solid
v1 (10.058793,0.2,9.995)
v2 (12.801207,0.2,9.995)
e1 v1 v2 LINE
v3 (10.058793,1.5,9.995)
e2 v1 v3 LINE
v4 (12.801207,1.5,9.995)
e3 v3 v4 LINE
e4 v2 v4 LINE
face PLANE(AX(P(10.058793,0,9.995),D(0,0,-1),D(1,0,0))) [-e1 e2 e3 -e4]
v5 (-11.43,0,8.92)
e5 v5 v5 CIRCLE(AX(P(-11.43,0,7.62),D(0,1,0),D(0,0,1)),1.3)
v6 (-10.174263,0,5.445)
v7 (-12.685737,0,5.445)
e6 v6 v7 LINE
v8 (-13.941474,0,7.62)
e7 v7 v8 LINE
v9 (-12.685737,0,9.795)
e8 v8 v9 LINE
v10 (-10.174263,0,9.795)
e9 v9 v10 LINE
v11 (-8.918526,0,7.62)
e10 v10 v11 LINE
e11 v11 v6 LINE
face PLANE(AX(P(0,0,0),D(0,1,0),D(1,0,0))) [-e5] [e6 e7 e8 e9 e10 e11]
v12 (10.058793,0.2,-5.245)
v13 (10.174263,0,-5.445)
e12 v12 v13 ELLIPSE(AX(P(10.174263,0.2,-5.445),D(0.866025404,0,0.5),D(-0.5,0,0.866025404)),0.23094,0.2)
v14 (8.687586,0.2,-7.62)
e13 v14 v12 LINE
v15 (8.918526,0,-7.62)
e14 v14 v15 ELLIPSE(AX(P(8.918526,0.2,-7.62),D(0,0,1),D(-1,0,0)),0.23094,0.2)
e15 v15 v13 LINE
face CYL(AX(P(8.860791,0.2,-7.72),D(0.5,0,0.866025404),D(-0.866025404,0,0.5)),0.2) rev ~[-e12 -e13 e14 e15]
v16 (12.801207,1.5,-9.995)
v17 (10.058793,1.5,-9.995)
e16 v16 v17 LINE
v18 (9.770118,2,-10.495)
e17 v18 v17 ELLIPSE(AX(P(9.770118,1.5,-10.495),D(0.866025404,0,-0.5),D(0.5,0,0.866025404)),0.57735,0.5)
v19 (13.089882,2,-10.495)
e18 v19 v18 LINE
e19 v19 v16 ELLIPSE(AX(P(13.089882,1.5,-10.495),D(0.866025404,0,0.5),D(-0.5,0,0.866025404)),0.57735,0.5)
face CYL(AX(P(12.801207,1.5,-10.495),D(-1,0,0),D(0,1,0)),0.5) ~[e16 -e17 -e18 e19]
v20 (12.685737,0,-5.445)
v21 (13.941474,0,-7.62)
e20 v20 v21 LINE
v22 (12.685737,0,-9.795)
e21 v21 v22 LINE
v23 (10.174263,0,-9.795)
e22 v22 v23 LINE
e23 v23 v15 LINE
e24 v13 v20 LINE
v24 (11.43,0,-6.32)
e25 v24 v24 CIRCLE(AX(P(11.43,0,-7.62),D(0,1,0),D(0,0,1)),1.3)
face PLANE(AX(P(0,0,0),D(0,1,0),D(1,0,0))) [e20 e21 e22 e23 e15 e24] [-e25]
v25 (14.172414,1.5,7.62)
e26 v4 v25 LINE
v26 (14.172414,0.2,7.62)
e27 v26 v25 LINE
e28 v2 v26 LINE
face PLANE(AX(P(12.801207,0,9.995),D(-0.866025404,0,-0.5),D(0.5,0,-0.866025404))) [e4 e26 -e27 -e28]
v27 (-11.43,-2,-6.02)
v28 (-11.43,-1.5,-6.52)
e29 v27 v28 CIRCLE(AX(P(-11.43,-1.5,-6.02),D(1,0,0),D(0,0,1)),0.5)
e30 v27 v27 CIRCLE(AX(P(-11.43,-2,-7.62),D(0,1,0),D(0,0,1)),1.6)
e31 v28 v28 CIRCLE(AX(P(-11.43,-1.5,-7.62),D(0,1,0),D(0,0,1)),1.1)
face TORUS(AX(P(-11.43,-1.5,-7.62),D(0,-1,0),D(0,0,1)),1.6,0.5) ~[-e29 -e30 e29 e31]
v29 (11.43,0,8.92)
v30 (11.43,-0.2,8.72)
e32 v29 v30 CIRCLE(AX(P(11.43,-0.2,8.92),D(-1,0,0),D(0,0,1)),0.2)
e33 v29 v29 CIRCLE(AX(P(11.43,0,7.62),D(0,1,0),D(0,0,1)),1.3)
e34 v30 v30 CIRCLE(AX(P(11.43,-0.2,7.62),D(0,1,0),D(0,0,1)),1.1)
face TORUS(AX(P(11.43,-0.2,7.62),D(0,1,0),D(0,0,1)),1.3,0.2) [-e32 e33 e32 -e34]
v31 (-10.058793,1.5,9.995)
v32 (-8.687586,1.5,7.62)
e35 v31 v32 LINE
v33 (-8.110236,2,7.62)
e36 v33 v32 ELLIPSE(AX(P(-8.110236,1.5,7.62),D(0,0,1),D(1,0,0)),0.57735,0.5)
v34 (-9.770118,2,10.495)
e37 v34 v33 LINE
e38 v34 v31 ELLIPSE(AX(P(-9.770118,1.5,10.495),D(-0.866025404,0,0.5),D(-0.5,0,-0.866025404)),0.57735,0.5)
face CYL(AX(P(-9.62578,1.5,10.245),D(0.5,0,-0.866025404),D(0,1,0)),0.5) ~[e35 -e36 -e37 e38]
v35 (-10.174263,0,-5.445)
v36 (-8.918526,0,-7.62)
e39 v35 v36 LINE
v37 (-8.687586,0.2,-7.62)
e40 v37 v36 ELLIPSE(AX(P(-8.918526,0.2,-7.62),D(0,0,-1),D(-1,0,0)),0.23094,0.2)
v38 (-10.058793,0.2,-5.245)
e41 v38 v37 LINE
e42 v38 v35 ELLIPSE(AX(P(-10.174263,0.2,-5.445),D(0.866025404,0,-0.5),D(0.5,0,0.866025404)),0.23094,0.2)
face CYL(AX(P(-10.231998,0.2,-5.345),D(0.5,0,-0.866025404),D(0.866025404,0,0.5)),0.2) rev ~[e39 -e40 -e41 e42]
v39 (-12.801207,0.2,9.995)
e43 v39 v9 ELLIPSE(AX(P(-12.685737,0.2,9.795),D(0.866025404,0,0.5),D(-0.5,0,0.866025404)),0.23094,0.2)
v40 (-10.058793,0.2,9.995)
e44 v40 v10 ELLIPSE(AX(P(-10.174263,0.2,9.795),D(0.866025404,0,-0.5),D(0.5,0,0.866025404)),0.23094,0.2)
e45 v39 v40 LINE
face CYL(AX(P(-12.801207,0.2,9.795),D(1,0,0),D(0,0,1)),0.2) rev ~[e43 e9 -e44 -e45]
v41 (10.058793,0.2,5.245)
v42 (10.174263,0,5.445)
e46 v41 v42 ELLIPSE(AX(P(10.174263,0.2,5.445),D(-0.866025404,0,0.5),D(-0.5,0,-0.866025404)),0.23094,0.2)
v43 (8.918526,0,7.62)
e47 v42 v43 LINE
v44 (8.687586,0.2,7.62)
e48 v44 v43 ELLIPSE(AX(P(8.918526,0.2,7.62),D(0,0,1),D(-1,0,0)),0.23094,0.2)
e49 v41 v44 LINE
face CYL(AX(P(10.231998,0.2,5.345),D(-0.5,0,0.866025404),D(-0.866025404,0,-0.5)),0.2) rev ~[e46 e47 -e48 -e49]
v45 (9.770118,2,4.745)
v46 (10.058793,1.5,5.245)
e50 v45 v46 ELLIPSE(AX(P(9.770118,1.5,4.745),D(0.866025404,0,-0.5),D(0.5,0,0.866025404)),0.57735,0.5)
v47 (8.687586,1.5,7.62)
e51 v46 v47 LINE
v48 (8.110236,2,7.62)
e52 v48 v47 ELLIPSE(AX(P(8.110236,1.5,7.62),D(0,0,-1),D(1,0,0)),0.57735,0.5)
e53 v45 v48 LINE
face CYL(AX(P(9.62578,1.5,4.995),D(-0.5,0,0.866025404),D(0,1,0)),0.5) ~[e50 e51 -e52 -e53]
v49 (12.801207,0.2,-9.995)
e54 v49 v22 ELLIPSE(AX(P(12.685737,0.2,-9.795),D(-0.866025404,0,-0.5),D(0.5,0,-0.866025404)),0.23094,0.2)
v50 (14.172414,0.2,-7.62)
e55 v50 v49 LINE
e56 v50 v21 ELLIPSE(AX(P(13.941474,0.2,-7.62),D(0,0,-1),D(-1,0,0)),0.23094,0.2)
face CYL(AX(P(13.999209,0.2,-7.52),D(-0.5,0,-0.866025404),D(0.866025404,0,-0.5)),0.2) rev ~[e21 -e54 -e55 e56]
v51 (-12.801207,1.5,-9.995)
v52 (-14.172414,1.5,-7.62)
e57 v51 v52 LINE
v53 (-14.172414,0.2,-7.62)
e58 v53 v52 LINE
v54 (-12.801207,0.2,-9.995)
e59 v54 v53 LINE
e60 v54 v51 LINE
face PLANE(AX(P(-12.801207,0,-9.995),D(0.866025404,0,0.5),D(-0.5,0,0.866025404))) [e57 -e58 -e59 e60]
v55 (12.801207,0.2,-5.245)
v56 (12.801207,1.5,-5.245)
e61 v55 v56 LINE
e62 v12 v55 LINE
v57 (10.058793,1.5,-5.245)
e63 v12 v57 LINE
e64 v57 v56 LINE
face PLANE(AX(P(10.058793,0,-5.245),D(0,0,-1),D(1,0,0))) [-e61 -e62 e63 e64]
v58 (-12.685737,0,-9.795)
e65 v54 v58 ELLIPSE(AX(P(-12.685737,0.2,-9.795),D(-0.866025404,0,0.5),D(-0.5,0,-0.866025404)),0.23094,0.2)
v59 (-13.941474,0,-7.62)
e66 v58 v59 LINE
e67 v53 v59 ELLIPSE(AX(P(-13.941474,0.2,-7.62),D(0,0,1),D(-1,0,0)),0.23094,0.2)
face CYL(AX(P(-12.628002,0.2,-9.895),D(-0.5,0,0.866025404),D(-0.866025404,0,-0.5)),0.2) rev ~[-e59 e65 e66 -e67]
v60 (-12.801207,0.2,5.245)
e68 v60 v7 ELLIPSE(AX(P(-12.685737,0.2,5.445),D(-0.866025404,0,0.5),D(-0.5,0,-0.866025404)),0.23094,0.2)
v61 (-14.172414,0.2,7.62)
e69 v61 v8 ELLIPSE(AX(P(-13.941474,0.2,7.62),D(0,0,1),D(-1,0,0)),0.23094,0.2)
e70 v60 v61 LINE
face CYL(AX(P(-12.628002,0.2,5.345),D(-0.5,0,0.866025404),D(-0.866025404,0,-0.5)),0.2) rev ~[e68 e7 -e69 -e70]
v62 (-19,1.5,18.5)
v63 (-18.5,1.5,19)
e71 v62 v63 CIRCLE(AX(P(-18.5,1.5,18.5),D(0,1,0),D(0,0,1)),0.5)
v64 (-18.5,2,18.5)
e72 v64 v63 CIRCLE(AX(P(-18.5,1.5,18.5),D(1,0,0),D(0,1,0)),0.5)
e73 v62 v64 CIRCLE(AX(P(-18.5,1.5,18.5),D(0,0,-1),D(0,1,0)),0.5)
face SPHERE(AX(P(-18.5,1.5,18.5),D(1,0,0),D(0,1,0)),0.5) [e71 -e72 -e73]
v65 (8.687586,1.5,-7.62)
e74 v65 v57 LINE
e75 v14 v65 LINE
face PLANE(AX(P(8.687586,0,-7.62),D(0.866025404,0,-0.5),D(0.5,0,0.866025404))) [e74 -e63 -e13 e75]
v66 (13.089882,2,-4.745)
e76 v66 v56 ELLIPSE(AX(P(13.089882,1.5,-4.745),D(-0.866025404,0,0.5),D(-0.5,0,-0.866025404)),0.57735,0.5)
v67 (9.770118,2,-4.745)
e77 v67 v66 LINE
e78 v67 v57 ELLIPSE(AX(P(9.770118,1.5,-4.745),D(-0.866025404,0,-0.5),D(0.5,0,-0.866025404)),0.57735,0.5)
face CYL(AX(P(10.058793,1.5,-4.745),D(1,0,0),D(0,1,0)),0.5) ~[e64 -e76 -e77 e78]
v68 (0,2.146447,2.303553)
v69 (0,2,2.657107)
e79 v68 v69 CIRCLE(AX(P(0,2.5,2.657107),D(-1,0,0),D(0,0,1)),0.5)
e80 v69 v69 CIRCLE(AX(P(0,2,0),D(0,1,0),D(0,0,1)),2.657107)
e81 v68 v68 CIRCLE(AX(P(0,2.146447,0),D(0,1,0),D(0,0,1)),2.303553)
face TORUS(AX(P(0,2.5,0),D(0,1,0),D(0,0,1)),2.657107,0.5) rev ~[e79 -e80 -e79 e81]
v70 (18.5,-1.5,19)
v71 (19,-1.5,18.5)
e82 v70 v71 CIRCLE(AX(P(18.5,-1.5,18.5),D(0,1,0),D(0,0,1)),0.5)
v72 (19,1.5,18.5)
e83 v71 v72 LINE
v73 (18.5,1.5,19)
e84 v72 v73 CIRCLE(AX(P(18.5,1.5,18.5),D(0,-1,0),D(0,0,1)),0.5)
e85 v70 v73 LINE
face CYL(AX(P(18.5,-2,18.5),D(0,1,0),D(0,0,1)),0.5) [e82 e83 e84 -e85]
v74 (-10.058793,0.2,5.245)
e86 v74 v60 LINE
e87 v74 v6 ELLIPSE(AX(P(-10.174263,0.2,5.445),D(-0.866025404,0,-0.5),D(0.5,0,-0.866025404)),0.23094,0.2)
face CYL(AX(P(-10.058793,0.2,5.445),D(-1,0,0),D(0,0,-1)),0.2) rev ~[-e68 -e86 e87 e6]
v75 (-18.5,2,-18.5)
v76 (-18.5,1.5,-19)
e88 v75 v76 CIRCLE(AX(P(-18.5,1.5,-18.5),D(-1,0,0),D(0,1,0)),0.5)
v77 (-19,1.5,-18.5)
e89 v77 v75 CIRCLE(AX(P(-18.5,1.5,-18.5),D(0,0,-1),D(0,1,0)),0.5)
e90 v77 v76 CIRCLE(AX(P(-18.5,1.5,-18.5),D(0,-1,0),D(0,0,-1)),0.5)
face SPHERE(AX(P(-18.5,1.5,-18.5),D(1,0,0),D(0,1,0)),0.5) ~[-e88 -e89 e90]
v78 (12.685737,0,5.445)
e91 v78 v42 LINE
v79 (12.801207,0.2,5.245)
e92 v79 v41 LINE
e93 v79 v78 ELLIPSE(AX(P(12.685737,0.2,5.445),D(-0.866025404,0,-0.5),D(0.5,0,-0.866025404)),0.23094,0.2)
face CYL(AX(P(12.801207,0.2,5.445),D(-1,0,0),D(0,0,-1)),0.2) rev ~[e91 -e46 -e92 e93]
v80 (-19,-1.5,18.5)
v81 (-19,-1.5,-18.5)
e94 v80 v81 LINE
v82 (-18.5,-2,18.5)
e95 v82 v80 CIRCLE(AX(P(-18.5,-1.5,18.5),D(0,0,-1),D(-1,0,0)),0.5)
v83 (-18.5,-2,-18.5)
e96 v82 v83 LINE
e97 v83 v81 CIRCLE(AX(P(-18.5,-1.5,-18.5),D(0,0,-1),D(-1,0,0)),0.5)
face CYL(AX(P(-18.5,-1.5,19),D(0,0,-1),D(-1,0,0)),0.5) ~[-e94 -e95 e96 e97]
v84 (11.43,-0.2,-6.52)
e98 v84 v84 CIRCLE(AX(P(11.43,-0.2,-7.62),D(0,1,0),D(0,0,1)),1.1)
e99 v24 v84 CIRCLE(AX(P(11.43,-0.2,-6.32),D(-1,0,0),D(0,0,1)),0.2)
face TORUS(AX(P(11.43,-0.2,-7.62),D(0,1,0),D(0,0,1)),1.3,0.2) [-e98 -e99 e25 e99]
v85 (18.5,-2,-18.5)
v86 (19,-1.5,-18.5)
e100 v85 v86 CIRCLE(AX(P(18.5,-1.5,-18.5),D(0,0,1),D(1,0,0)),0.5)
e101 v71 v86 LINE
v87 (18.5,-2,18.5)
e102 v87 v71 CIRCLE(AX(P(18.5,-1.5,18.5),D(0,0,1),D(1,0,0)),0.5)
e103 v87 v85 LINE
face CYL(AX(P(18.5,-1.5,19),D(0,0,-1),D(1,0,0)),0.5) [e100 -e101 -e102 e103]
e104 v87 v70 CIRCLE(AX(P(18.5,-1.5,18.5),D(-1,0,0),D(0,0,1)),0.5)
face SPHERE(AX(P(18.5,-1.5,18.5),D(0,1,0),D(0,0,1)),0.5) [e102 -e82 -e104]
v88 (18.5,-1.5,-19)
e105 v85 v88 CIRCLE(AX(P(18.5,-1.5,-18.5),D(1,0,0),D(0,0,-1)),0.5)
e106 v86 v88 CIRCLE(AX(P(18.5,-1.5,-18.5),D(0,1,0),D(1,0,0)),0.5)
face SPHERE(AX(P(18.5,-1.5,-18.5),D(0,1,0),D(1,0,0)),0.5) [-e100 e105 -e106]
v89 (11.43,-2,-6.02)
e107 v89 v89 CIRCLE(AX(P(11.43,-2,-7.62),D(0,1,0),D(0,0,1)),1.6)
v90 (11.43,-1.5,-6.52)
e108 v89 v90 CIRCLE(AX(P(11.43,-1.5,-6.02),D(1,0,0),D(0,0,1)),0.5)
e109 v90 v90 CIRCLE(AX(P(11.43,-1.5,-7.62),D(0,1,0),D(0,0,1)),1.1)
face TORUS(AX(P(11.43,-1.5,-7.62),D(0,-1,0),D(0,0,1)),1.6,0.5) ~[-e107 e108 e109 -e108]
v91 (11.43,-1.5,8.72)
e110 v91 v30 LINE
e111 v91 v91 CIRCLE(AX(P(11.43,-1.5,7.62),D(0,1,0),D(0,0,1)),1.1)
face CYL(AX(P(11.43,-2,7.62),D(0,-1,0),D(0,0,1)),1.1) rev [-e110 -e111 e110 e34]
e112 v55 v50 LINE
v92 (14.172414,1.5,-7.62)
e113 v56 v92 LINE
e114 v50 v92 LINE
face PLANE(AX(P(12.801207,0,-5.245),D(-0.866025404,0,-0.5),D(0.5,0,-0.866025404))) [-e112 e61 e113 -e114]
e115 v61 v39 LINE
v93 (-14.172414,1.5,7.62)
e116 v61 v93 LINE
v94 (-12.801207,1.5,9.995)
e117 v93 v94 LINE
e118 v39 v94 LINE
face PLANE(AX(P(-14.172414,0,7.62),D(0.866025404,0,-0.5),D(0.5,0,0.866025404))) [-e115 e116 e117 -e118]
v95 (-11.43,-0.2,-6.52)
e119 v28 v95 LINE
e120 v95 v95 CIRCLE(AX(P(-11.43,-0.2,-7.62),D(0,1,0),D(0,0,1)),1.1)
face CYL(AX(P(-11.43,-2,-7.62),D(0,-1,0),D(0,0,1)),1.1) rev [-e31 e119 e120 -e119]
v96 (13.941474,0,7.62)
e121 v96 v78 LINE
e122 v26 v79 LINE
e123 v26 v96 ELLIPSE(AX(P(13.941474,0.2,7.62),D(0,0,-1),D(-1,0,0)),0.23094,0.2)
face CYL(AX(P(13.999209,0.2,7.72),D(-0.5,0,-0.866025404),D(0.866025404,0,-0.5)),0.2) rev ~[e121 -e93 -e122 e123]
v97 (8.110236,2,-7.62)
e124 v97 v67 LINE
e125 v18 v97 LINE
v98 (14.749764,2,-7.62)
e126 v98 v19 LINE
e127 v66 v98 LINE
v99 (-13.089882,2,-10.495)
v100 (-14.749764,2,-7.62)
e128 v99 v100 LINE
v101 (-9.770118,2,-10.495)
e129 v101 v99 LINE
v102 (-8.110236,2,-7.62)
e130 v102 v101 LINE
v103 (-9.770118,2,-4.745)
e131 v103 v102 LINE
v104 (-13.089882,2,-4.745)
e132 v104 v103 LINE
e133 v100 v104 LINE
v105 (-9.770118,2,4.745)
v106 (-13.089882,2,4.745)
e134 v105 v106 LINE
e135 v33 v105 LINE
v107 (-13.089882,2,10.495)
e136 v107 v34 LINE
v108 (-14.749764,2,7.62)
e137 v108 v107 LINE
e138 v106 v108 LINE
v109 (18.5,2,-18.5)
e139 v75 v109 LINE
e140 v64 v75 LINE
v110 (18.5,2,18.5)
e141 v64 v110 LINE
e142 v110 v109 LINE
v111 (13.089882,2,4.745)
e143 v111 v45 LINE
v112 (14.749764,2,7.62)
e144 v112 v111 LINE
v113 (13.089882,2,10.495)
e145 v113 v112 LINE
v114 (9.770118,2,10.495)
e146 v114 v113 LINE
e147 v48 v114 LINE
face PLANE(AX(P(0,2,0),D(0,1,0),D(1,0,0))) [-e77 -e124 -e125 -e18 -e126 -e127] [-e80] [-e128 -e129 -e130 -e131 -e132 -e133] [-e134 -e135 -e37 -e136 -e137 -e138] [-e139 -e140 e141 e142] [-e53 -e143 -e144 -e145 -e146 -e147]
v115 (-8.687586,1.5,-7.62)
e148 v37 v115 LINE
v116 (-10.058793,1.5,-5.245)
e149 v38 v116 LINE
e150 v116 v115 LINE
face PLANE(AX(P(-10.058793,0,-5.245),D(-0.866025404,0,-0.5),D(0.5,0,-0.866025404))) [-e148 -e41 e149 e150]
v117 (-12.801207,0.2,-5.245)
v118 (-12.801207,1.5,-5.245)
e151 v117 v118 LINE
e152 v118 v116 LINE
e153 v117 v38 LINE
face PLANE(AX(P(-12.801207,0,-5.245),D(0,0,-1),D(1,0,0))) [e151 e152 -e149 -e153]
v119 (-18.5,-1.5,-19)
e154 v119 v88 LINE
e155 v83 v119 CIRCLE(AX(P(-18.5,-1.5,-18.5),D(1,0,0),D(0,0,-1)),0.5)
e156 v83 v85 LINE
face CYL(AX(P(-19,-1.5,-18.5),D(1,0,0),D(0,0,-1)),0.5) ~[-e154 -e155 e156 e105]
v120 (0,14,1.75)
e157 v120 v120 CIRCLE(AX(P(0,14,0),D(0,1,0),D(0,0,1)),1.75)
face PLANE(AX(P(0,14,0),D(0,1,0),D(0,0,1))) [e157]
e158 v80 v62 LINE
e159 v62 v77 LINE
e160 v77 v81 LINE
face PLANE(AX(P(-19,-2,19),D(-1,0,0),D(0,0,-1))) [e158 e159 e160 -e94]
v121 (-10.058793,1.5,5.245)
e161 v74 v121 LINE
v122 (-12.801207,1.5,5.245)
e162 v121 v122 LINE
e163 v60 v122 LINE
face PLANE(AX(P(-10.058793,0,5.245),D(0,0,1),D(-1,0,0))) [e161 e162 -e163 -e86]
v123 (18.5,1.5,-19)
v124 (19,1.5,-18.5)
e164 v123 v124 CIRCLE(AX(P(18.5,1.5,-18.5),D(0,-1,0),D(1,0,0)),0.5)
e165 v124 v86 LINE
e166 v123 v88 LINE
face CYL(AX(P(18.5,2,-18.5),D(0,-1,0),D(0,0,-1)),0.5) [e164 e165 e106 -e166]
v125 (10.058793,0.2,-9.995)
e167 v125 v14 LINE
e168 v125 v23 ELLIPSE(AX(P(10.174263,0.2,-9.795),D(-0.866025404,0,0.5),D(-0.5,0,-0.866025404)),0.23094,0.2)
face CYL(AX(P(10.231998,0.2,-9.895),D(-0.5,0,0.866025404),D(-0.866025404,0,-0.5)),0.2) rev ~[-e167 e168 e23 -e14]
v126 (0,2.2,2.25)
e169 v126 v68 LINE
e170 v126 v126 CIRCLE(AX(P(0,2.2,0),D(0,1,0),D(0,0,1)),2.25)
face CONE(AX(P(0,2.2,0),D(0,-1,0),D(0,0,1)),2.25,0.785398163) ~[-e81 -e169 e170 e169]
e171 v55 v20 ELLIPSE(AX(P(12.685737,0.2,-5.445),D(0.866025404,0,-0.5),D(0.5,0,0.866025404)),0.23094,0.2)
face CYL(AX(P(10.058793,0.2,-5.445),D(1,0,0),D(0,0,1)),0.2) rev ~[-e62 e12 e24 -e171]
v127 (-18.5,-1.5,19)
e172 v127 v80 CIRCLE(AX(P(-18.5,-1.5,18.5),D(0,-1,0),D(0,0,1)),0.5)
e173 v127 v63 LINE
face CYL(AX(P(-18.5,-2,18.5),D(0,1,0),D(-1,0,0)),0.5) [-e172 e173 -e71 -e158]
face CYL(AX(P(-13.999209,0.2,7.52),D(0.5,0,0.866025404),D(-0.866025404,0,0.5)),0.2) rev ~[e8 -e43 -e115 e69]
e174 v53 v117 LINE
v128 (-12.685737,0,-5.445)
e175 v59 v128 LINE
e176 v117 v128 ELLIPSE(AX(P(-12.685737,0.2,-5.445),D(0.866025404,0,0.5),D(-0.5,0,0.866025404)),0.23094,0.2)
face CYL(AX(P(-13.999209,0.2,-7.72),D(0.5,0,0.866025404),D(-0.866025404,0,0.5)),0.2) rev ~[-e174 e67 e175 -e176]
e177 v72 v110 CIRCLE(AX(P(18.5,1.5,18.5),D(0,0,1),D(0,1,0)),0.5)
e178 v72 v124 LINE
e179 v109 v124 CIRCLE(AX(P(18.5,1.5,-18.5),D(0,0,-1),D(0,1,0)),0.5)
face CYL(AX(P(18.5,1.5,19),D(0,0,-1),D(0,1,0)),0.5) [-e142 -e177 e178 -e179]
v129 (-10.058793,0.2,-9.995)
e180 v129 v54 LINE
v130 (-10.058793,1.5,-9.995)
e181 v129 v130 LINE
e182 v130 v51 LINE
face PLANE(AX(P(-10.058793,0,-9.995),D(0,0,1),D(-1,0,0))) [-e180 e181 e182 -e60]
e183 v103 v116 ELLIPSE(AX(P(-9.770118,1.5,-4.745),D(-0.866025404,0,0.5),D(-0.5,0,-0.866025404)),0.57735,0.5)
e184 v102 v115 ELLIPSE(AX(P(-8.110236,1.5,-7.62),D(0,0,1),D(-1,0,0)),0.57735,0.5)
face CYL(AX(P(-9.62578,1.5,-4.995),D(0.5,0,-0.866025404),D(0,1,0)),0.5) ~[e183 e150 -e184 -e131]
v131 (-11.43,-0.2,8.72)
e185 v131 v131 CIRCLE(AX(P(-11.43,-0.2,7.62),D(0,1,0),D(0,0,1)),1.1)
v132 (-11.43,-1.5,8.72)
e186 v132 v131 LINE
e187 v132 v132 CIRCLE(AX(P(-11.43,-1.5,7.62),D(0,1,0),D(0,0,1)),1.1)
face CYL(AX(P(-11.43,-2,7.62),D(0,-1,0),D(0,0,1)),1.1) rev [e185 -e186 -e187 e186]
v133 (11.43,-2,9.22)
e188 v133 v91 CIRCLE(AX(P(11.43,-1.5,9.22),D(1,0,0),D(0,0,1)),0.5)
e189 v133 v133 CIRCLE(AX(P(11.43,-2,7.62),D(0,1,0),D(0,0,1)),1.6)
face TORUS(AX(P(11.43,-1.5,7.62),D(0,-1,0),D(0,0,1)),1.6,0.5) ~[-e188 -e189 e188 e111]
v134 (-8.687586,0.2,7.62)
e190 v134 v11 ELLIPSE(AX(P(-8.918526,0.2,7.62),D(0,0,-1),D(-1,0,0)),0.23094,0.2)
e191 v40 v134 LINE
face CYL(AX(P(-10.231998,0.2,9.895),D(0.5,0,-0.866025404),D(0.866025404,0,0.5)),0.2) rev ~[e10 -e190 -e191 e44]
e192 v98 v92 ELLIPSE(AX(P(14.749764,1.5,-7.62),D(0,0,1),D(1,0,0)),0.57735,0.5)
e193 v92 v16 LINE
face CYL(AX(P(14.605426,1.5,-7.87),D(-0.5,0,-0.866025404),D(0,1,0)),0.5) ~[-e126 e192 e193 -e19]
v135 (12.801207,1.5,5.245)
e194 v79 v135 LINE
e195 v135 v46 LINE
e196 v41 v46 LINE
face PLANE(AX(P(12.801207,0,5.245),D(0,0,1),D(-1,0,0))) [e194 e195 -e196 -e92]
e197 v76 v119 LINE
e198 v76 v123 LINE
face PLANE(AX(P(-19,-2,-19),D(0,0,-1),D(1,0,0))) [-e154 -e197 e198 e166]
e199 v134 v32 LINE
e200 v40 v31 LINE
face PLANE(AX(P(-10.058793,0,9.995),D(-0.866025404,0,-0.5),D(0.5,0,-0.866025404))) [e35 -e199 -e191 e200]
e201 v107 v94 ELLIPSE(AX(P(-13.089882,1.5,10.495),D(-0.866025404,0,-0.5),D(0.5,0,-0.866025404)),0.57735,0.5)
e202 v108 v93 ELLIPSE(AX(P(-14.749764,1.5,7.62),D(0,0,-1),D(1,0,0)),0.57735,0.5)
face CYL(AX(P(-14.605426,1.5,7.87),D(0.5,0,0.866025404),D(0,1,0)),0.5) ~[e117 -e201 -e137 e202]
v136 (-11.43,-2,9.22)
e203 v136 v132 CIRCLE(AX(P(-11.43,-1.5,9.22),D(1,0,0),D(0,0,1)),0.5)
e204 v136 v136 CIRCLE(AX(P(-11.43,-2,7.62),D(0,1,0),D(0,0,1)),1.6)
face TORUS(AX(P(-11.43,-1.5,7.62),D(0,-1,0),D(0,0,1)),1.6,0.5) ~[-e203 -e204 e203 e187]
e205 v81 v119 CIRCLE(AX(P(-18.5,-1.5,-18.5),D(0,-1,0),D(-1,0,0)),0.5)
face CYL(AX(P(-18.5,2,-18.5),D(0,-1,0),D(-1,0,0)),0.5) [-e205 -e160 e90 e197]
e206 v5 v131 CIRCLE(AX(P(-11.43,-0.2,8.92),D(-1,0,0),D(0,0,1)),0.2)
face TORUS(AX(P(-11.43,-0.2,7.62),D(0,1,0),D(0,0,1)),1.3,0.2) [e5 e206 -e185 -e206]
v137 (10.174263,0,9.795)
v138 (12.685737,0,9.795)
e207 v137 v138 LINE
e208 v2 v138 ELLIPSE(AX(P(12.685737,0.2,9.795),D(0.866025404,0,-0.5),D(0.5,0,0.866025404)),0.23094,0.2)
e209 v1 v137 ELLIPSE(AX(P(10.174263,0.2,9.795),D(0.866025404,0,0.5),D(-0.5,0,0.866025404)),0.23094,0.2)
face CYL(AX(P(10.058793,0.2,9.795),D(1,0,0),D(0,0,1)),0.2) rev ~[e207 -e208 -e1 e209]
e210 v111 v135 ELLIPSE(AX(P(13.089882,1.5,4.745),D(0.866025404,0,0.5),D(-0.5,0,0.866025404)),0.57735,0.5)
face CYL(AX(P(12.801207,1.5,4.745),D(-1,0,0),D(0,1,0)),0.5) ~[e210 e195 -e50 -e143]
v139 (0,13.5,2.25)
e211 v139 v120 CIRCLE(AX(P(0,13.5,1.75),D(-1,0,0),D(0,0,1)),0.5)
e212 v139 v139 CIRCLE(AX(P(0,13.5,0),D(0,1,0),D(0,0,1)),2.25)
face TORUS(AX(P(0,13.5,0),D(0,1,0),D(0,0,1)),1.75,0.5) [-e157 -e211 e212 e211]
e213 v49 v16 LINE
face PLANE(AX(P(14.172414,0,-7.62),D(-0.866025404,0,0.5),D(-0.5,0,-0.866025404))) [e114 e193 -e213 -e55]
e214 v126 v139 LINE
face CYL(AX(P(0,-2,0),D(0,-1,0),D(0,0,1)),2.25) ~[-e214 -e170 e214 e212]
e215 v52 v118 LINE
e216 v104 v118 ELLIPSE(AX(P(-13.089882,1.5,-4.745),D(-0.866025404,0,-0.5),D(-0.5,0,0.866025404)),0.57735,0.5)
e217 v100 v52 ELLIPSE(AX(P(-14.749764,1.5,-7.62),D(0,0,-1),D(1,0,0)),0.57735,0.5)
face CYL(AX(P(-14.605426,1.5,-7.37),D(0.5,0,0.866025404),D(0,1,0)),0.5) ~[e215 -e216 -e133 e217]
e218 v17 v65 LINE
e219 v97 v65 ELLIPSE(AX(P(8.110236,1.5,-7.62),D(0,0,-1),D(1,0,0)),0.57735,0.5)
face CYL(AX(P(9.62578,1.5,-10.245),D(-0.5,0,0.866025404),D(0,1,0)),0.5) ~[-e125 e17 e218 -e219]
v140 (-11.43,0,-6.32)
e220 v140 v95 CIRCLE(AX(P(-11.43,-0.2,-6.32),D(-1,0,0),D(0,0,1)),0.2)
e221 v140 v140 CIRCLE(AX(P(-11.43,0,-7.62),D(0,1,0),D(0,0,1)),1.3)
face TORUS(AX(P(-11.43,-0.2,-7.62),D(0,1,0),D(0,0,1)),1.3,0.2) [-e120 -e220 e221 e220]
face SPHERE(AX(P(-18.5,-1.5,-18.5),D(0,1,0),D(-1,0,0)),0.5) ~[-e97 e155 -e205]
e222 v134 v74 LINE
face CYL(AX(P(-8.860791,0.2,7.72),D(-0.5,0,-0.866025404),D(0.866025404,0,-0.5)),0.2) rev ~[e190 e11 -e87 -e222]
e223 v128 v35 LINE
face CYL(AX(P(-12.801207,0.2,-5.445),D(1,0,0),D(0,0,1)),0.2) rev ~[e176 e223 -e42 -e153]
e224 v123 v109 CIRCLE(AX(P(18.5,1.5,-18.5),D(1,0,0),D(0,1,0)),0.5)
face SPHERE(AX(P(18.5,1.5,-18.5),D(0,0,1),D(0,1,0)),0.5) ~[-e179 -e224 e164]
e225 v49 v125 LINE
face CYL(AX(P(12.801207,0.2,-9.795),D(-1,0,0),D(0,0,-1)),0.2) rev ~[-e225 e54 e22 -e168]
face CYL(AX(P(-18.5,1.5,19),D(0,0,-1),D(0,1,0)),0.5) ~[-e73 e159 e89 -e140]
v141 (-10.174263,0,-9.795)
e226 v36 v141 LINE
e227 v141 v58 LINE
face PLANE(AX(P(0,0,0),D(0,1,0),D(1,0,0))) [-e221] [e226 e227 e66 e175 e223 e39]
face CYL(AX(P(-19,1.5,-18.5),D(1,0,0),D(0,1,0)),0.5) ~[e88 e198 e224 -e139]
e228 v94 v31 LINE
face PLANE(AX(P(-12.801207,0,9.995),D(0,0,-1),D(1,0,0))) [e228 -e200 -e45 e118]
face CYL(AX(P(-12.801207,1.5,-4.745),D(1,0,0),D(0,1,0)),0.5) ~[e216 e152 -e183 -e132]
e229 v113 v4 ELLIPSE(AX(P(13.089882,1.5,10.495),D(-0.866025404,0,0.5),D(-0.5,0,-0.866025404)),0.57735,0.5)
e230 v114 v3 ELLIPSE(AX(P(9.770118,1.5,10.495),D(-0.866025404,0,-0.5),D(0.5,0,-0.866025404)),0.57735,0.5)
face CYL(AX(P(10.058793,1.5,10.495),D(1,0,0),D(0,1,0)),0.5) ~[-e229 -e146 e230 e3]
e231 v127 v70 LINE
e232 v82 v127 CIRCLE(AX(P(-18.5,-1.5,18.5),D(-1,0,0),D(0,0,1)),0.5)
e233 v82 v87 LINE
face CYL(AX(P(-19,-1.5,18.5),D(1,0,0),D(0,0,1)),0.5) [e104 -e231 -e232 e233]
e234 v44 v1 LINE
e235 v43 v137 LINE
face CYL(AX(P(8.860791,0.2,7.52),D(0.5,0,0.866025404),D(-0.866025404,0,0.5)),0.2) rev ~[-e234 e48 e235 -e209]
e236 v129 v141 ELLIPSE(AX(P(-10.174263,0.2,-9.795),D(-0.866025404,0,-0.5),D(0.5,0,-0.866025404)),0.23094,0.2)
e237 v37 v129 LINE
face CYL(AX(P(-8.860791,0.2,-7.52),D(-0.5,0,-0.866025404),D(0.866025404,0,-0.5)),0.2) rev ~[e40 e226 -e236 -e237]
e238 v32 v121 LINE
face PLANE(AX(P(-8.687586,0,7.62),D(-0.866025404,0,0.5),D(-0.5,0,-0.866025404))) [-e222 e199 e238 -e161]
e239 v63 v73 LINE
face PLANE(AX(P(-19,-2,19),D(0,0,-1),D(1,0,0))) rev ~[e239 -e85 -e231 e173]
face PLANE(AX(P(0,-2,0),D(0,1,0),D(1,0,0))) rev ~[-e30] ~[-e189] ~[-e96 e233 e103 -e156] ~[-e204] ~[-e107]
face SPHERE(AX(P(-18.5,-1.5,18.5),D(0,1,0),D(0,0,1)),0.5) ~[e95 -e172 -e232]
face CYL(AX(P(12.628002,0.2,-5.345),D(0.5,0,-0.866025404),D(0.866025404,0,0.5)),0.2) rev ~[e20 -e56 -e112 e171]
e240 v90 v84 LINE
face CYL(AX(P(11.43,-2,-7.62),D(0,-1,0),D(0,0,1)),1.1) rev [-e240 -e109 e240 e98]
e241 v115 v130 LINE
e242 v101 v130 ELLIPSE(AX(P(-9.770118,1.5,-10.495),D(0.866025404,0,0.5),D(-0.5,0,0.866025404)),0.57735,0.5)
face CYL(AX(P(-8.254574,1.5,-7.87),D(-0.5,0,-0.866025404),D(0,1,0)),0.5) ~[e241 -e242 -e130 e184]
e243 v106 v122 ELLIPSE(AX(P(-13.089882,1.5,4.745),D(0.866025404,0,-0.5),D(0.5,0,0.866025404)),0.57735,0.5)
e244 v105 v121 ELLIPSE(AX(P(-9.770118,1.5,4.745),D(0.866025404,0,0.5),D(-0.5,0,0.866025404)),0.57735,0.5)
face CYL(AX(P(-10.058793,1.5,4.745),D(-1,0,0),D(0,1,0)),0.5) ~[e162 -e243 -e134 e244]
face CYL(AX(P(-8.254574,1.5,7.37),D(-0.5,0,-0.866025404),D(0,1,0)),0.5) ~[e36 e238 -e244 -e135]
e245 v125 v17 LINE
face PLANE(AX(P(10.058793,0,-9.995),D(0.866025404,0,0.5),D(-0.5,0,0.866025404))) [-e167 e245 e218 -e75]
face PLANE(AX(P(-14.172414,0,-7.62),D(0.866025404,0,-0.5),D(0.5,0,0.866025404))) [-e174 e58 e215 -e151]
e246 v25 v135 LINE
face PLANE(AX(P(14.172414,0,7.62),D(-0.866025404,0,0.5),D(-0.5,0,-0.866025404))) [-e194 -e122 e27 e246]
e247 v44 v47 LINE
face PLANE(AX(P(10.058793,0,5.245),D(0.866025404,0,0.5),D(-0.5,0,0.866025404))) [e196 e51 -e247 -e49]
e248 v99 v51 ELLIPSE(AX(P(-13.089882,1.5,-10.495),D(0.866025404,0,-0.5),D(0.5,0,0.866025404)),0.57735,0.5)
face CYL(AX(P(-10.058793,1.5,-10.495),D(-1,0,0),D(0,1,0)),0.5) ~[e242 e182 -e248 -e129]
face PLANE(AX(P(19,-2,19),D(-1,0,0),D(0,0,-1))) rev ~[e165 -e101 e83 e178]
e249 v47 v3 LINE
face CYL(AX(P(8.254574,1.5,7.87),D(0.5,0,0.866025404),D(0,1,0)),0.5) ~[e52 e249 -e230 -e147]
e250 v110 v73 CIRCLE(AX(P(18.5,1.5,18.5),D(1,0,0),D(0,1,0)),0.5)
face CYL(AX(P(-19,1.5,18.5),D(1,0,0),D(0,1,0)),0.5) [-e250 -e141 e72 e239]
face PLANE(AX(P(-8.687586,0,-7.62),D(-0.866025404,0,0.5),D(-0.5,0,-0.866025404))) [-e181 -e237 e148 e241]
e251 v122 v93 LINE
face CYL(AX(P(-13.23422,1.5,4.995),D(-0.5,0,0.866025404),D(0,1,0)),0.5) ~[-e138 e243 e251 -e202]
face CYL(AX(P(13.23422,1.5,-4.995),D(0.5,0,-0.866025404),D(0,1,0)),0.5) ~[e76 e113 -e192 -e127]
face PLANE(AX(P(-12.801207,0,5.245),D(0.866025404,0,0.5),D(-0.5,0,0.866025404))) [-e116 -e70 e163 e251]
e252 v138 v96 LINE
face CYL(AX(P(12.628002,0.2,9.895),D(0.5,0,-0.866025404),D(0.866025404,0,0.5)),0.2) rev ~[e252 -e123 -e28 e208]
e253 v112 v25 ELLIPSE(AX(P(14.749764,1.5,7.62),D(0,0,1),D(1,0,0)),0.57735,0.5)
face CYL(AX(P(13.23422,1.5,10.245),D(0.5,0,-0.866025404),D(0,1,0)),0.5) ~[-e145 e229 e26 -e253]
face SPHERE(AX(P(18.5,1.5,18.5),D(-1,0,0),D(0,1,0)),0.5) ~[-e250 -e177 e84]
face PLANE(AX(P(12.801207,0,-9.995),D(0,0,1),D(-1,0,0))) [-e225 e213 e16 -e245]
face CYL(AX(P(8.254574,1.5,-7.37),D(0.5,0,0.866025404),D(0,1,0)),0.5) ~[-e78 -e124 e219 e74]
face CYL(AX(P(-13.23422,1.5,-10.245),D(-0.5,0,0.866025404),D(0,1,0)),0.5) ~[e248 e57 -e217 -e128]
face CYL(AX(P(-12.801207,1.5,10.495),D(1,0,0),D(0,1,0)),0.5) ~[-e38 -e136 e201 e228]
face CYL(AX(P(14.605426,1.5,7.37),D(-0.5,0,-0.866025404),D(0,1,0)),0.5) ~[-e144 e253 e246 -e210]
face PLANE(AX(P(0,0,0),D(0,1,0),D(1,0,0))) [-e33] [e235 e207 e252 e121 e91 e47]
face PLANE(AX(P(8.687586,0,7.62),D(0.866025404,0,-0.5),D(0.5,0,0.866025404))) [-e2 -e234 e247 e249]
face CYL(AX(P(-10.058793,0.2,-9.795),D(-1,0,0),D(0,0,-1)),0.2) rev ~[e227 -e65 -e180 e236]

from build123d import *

# Parameters (mm, degrees)
SKETCH2_W                = 38
SKETCH2_H                = 38
SKETCH2_R                = 2.25
BOSS_EXTRUDE1_DEPTH      = 2
BOSS_EXTRUDE2_START      = -2
SKETCH2_3_W              = 38
SKETCH2_3_H              = 38
SKETCH2_3_R              = 1.1
SKETCH2_3_R_2            = 2.25
BOSS_EXTRUDE2_DEPTH      = 2
BOSS_EXTRUDE3_DEPTH      = 14
BOSS_EXTRUDE3_DEPTH_BACK = 2
SKETCH2_4_R              = 2.25
CHAMFER1_SIZE            = 0.2
FILLET1_R                = 0.5
FILLET2_R                = 0.5
FILLET3_R                = 0.2


with BuildPart() as part:
    # Sketch2 → Boss-Extrude1 (new body)
    with BuildSketch(Plane(origin=(0, 0, 0), x_dir=(1, 0, 0), z_dir=(0, 1, 0))):
        Rectangle(SKETCH2_W, SKETCH2_H)
        Polygon((-10.058793111, -5.245), (-8.687586221, -7.62), (-10.058793111, -9.995), (-12.801206889, -9.995), (-14.172413779, -7.62), (-12.801206889, -5.245), align=None, mode=Mode.SUBTRACT)
        Circle(SKETCH2_R, mode=Mode.SUBTRACT)
        Polygon((12.801206889, -5.245), (14.172413779, -7.62), (12.801206889, -9.995), (10.058793111, -9.995), (8.687586221, -7.62), (10.058793111, -5.245), align=None, mode=Mode.SUBTRACT)
        Polygon((-10.058793111, 9.995), (-8.687586221, 7.62), (-10.058793111, 5.245), (-12.801206889, 5.245), (-14.172413779, 7.62), (-12.801206889, 9.995), align=None, mode=Mode.SUBTRACT)
        Polygon((12.801206889, 9.995), (14.172413779, 7.62), (12.801206889, 5.245), (10.058793111, 5.245), (8.687586221, 7.62), (10.058793111, 9.995), align=None, mode=Mode.SUBTRACT)
    extrude(amount=BOSS_EXTRUDE1_DEPTH)

    # Sketch2<3> → Boss-Extrude2 (add)
    with BuildSketch(Plane(origin=(0, 0, 0), x_dir=(1, 0, 0), z_dir=(0, 1, 0)).offset(BOSS_EXTRUDE2_START)):
        Rectangle(SKETCH2_3_W, SKETCH2_3_H)
        with Locations((-11.43, 7.62)):
            Circle(SKETCH2_3_R, mode=Mode.SUBTRACT)
        Circle(SKETCH2_3_R_2, mode=Mode.SUBTRACT)
        with Locations((-11.43, -7.62)):
            Circle(SKETCH2_3_R, mode=Mode.SUBTRACT)
        with Locations((11.43, -7.62)):
            Circle(SKETCH2_3_R, mode=Mode.SUBTRACT)
        with Locations((11.43, 7.62)):
            Circle(SKETCH2_3_R, mode=Mode.SUBTRACT)
    extrude(amount=BOSS_EXTRUDE2_DEPTH)

    # Sketch2<4> → Boss-Extrude3 (add, two sides: drawn at the far end of the back side and taken through both)
    with BuildSketch(Plane(origin=(0, 0, 0), x_dir=(1, 0, 0), z_dir=(0, 1, 0)).offset(-BOSS_EXTRUDE3_DEPTH_BACK)):
        Circle(SKETCH2_4_R)
    extrude(amount=BOSS_EXTRUDE3_DEPTH + BOSS_EXTRUDE3_DEPTH_BACK)

    # Chamfer1
    chamfer1_edges = [part.edges().sort_by_distance(p)[0] for p in [
        (-2.25, 2, 0),
    ]]
    chamfer(chamfer1_edges, length=CHAMFER1_SIZE)

    # Fillet1
    fillet1_edges = [part.edges().sort_by_distance(p)[0] for p in [
        (-2.25, 14, 0),
    ]]
    fillet(fillet1_edges, radius=FILLET1_R)

    # Fillet2
    fillet2_edges = [part.edges().sort_by_distance(p)[0] for p in [
        (13.486810334, 2, -8.8075),
        (11.43, 2, -9.995),
        (9.373189666, 2, -8.8075),
        (9.373189666, 2, -6.4325),
        (11.43, 2, -5.245),
        (13.486810334, 2, -6.4325),
        (-9.373189666, 2, -8.8075),
        (-11.43, 2, -9.995),
        (-13.486810334, 2, -8.8075),
        (-13.486810334, 2, -6.4325),
        (-11.43, 2, -5.245),
        (-9.373189666, 2, -6.4325),
        (-9.373189666, 2, 6.4325),
        (-11.43, 2, 5.245),
        (-13.486810334, 2, 6.4325),
        (-13.486810334, 2, 8.8075),
        (-11.43, 2, 9.995),
        (-9.373189666, 2, 8.8075),
        (13.486810334, 2, 6.4325),
        (11.43, 2, 5.245),
        (9.373189666, 2, 6.4325),
        (9.373189666, 2, 8.8075),
        (11.43, 2, 9.995),
        (13.486810334, 2, 8.8075),
        (-2.45, 2, 0),
        (10.33, -2, 7.62),
        (-12.53, -2, 7.62),
        (-12.53, -2, -7.62),
        (10.33, -2, -7.62),
        (-19, 2, 0),
        (-19, -2, 0),
        (0, 2, 19),
        (0, -2, 19),
        (-19, 0, 19),
        (19, 2, 0),
        (19, -2, 0),
        (19, 0, 19),
        (0, 2, -19),
        (-19, 0, -19),
        (0, -2, -19),
        (19, 0, -19),
    ]]
    fillet(fillet2_edges, radius=FILLET2_R)

    # Fillet3
    fillet3_edges = [part.edges().sort_by_distance(p)[0] for p in [
        (10.33, 0, 7.62),
        (9.373189666, 0, 8.8075),
        (9.373189666, 0, 6.4325),
        (11.43, 0, 5.245),
        (13.486810334, 0, 6.4325),
        (13.486810334, 0, 8.8075),
        (11.43, 0, 9.995),
        (10.33, 0, -7.62),
        (9.373189666, 0, -6.4325),
        (9.373189666, 0, -8.8075),
        (11.43, 0, -9.995),
        (13.486810334, 0, -8.8075),
        (13.486810334, 0, -6.4325),
        (11.43, 0, -5.245),
        (-12.53, 0, 7.62),
        (-13.486810334, 0, 8.8075),
        (-13.486810334, 0, 6.4325),
        (-11.43, 0, 5.245),
        (-9.373189666, 0, 6.4325),
        (-9.373189666, 0, 8.8075),
        (-11.43, 0, 9.995),
        (-12.53, 0, -7.62),
        (-13.486810334, 0, -6.4325),
        (-13.486810334, 0, -8.8075),
        (-11.43, 0, -9.995),
        (-9.373189666, 0, -8.8075),
        (-9.373189666, 0, -6.4325),
        (-11.43, 0, -5.245),
    ]]
    fillet(fillet3_edges, radius=FILLET3_R)


solid = part.part
